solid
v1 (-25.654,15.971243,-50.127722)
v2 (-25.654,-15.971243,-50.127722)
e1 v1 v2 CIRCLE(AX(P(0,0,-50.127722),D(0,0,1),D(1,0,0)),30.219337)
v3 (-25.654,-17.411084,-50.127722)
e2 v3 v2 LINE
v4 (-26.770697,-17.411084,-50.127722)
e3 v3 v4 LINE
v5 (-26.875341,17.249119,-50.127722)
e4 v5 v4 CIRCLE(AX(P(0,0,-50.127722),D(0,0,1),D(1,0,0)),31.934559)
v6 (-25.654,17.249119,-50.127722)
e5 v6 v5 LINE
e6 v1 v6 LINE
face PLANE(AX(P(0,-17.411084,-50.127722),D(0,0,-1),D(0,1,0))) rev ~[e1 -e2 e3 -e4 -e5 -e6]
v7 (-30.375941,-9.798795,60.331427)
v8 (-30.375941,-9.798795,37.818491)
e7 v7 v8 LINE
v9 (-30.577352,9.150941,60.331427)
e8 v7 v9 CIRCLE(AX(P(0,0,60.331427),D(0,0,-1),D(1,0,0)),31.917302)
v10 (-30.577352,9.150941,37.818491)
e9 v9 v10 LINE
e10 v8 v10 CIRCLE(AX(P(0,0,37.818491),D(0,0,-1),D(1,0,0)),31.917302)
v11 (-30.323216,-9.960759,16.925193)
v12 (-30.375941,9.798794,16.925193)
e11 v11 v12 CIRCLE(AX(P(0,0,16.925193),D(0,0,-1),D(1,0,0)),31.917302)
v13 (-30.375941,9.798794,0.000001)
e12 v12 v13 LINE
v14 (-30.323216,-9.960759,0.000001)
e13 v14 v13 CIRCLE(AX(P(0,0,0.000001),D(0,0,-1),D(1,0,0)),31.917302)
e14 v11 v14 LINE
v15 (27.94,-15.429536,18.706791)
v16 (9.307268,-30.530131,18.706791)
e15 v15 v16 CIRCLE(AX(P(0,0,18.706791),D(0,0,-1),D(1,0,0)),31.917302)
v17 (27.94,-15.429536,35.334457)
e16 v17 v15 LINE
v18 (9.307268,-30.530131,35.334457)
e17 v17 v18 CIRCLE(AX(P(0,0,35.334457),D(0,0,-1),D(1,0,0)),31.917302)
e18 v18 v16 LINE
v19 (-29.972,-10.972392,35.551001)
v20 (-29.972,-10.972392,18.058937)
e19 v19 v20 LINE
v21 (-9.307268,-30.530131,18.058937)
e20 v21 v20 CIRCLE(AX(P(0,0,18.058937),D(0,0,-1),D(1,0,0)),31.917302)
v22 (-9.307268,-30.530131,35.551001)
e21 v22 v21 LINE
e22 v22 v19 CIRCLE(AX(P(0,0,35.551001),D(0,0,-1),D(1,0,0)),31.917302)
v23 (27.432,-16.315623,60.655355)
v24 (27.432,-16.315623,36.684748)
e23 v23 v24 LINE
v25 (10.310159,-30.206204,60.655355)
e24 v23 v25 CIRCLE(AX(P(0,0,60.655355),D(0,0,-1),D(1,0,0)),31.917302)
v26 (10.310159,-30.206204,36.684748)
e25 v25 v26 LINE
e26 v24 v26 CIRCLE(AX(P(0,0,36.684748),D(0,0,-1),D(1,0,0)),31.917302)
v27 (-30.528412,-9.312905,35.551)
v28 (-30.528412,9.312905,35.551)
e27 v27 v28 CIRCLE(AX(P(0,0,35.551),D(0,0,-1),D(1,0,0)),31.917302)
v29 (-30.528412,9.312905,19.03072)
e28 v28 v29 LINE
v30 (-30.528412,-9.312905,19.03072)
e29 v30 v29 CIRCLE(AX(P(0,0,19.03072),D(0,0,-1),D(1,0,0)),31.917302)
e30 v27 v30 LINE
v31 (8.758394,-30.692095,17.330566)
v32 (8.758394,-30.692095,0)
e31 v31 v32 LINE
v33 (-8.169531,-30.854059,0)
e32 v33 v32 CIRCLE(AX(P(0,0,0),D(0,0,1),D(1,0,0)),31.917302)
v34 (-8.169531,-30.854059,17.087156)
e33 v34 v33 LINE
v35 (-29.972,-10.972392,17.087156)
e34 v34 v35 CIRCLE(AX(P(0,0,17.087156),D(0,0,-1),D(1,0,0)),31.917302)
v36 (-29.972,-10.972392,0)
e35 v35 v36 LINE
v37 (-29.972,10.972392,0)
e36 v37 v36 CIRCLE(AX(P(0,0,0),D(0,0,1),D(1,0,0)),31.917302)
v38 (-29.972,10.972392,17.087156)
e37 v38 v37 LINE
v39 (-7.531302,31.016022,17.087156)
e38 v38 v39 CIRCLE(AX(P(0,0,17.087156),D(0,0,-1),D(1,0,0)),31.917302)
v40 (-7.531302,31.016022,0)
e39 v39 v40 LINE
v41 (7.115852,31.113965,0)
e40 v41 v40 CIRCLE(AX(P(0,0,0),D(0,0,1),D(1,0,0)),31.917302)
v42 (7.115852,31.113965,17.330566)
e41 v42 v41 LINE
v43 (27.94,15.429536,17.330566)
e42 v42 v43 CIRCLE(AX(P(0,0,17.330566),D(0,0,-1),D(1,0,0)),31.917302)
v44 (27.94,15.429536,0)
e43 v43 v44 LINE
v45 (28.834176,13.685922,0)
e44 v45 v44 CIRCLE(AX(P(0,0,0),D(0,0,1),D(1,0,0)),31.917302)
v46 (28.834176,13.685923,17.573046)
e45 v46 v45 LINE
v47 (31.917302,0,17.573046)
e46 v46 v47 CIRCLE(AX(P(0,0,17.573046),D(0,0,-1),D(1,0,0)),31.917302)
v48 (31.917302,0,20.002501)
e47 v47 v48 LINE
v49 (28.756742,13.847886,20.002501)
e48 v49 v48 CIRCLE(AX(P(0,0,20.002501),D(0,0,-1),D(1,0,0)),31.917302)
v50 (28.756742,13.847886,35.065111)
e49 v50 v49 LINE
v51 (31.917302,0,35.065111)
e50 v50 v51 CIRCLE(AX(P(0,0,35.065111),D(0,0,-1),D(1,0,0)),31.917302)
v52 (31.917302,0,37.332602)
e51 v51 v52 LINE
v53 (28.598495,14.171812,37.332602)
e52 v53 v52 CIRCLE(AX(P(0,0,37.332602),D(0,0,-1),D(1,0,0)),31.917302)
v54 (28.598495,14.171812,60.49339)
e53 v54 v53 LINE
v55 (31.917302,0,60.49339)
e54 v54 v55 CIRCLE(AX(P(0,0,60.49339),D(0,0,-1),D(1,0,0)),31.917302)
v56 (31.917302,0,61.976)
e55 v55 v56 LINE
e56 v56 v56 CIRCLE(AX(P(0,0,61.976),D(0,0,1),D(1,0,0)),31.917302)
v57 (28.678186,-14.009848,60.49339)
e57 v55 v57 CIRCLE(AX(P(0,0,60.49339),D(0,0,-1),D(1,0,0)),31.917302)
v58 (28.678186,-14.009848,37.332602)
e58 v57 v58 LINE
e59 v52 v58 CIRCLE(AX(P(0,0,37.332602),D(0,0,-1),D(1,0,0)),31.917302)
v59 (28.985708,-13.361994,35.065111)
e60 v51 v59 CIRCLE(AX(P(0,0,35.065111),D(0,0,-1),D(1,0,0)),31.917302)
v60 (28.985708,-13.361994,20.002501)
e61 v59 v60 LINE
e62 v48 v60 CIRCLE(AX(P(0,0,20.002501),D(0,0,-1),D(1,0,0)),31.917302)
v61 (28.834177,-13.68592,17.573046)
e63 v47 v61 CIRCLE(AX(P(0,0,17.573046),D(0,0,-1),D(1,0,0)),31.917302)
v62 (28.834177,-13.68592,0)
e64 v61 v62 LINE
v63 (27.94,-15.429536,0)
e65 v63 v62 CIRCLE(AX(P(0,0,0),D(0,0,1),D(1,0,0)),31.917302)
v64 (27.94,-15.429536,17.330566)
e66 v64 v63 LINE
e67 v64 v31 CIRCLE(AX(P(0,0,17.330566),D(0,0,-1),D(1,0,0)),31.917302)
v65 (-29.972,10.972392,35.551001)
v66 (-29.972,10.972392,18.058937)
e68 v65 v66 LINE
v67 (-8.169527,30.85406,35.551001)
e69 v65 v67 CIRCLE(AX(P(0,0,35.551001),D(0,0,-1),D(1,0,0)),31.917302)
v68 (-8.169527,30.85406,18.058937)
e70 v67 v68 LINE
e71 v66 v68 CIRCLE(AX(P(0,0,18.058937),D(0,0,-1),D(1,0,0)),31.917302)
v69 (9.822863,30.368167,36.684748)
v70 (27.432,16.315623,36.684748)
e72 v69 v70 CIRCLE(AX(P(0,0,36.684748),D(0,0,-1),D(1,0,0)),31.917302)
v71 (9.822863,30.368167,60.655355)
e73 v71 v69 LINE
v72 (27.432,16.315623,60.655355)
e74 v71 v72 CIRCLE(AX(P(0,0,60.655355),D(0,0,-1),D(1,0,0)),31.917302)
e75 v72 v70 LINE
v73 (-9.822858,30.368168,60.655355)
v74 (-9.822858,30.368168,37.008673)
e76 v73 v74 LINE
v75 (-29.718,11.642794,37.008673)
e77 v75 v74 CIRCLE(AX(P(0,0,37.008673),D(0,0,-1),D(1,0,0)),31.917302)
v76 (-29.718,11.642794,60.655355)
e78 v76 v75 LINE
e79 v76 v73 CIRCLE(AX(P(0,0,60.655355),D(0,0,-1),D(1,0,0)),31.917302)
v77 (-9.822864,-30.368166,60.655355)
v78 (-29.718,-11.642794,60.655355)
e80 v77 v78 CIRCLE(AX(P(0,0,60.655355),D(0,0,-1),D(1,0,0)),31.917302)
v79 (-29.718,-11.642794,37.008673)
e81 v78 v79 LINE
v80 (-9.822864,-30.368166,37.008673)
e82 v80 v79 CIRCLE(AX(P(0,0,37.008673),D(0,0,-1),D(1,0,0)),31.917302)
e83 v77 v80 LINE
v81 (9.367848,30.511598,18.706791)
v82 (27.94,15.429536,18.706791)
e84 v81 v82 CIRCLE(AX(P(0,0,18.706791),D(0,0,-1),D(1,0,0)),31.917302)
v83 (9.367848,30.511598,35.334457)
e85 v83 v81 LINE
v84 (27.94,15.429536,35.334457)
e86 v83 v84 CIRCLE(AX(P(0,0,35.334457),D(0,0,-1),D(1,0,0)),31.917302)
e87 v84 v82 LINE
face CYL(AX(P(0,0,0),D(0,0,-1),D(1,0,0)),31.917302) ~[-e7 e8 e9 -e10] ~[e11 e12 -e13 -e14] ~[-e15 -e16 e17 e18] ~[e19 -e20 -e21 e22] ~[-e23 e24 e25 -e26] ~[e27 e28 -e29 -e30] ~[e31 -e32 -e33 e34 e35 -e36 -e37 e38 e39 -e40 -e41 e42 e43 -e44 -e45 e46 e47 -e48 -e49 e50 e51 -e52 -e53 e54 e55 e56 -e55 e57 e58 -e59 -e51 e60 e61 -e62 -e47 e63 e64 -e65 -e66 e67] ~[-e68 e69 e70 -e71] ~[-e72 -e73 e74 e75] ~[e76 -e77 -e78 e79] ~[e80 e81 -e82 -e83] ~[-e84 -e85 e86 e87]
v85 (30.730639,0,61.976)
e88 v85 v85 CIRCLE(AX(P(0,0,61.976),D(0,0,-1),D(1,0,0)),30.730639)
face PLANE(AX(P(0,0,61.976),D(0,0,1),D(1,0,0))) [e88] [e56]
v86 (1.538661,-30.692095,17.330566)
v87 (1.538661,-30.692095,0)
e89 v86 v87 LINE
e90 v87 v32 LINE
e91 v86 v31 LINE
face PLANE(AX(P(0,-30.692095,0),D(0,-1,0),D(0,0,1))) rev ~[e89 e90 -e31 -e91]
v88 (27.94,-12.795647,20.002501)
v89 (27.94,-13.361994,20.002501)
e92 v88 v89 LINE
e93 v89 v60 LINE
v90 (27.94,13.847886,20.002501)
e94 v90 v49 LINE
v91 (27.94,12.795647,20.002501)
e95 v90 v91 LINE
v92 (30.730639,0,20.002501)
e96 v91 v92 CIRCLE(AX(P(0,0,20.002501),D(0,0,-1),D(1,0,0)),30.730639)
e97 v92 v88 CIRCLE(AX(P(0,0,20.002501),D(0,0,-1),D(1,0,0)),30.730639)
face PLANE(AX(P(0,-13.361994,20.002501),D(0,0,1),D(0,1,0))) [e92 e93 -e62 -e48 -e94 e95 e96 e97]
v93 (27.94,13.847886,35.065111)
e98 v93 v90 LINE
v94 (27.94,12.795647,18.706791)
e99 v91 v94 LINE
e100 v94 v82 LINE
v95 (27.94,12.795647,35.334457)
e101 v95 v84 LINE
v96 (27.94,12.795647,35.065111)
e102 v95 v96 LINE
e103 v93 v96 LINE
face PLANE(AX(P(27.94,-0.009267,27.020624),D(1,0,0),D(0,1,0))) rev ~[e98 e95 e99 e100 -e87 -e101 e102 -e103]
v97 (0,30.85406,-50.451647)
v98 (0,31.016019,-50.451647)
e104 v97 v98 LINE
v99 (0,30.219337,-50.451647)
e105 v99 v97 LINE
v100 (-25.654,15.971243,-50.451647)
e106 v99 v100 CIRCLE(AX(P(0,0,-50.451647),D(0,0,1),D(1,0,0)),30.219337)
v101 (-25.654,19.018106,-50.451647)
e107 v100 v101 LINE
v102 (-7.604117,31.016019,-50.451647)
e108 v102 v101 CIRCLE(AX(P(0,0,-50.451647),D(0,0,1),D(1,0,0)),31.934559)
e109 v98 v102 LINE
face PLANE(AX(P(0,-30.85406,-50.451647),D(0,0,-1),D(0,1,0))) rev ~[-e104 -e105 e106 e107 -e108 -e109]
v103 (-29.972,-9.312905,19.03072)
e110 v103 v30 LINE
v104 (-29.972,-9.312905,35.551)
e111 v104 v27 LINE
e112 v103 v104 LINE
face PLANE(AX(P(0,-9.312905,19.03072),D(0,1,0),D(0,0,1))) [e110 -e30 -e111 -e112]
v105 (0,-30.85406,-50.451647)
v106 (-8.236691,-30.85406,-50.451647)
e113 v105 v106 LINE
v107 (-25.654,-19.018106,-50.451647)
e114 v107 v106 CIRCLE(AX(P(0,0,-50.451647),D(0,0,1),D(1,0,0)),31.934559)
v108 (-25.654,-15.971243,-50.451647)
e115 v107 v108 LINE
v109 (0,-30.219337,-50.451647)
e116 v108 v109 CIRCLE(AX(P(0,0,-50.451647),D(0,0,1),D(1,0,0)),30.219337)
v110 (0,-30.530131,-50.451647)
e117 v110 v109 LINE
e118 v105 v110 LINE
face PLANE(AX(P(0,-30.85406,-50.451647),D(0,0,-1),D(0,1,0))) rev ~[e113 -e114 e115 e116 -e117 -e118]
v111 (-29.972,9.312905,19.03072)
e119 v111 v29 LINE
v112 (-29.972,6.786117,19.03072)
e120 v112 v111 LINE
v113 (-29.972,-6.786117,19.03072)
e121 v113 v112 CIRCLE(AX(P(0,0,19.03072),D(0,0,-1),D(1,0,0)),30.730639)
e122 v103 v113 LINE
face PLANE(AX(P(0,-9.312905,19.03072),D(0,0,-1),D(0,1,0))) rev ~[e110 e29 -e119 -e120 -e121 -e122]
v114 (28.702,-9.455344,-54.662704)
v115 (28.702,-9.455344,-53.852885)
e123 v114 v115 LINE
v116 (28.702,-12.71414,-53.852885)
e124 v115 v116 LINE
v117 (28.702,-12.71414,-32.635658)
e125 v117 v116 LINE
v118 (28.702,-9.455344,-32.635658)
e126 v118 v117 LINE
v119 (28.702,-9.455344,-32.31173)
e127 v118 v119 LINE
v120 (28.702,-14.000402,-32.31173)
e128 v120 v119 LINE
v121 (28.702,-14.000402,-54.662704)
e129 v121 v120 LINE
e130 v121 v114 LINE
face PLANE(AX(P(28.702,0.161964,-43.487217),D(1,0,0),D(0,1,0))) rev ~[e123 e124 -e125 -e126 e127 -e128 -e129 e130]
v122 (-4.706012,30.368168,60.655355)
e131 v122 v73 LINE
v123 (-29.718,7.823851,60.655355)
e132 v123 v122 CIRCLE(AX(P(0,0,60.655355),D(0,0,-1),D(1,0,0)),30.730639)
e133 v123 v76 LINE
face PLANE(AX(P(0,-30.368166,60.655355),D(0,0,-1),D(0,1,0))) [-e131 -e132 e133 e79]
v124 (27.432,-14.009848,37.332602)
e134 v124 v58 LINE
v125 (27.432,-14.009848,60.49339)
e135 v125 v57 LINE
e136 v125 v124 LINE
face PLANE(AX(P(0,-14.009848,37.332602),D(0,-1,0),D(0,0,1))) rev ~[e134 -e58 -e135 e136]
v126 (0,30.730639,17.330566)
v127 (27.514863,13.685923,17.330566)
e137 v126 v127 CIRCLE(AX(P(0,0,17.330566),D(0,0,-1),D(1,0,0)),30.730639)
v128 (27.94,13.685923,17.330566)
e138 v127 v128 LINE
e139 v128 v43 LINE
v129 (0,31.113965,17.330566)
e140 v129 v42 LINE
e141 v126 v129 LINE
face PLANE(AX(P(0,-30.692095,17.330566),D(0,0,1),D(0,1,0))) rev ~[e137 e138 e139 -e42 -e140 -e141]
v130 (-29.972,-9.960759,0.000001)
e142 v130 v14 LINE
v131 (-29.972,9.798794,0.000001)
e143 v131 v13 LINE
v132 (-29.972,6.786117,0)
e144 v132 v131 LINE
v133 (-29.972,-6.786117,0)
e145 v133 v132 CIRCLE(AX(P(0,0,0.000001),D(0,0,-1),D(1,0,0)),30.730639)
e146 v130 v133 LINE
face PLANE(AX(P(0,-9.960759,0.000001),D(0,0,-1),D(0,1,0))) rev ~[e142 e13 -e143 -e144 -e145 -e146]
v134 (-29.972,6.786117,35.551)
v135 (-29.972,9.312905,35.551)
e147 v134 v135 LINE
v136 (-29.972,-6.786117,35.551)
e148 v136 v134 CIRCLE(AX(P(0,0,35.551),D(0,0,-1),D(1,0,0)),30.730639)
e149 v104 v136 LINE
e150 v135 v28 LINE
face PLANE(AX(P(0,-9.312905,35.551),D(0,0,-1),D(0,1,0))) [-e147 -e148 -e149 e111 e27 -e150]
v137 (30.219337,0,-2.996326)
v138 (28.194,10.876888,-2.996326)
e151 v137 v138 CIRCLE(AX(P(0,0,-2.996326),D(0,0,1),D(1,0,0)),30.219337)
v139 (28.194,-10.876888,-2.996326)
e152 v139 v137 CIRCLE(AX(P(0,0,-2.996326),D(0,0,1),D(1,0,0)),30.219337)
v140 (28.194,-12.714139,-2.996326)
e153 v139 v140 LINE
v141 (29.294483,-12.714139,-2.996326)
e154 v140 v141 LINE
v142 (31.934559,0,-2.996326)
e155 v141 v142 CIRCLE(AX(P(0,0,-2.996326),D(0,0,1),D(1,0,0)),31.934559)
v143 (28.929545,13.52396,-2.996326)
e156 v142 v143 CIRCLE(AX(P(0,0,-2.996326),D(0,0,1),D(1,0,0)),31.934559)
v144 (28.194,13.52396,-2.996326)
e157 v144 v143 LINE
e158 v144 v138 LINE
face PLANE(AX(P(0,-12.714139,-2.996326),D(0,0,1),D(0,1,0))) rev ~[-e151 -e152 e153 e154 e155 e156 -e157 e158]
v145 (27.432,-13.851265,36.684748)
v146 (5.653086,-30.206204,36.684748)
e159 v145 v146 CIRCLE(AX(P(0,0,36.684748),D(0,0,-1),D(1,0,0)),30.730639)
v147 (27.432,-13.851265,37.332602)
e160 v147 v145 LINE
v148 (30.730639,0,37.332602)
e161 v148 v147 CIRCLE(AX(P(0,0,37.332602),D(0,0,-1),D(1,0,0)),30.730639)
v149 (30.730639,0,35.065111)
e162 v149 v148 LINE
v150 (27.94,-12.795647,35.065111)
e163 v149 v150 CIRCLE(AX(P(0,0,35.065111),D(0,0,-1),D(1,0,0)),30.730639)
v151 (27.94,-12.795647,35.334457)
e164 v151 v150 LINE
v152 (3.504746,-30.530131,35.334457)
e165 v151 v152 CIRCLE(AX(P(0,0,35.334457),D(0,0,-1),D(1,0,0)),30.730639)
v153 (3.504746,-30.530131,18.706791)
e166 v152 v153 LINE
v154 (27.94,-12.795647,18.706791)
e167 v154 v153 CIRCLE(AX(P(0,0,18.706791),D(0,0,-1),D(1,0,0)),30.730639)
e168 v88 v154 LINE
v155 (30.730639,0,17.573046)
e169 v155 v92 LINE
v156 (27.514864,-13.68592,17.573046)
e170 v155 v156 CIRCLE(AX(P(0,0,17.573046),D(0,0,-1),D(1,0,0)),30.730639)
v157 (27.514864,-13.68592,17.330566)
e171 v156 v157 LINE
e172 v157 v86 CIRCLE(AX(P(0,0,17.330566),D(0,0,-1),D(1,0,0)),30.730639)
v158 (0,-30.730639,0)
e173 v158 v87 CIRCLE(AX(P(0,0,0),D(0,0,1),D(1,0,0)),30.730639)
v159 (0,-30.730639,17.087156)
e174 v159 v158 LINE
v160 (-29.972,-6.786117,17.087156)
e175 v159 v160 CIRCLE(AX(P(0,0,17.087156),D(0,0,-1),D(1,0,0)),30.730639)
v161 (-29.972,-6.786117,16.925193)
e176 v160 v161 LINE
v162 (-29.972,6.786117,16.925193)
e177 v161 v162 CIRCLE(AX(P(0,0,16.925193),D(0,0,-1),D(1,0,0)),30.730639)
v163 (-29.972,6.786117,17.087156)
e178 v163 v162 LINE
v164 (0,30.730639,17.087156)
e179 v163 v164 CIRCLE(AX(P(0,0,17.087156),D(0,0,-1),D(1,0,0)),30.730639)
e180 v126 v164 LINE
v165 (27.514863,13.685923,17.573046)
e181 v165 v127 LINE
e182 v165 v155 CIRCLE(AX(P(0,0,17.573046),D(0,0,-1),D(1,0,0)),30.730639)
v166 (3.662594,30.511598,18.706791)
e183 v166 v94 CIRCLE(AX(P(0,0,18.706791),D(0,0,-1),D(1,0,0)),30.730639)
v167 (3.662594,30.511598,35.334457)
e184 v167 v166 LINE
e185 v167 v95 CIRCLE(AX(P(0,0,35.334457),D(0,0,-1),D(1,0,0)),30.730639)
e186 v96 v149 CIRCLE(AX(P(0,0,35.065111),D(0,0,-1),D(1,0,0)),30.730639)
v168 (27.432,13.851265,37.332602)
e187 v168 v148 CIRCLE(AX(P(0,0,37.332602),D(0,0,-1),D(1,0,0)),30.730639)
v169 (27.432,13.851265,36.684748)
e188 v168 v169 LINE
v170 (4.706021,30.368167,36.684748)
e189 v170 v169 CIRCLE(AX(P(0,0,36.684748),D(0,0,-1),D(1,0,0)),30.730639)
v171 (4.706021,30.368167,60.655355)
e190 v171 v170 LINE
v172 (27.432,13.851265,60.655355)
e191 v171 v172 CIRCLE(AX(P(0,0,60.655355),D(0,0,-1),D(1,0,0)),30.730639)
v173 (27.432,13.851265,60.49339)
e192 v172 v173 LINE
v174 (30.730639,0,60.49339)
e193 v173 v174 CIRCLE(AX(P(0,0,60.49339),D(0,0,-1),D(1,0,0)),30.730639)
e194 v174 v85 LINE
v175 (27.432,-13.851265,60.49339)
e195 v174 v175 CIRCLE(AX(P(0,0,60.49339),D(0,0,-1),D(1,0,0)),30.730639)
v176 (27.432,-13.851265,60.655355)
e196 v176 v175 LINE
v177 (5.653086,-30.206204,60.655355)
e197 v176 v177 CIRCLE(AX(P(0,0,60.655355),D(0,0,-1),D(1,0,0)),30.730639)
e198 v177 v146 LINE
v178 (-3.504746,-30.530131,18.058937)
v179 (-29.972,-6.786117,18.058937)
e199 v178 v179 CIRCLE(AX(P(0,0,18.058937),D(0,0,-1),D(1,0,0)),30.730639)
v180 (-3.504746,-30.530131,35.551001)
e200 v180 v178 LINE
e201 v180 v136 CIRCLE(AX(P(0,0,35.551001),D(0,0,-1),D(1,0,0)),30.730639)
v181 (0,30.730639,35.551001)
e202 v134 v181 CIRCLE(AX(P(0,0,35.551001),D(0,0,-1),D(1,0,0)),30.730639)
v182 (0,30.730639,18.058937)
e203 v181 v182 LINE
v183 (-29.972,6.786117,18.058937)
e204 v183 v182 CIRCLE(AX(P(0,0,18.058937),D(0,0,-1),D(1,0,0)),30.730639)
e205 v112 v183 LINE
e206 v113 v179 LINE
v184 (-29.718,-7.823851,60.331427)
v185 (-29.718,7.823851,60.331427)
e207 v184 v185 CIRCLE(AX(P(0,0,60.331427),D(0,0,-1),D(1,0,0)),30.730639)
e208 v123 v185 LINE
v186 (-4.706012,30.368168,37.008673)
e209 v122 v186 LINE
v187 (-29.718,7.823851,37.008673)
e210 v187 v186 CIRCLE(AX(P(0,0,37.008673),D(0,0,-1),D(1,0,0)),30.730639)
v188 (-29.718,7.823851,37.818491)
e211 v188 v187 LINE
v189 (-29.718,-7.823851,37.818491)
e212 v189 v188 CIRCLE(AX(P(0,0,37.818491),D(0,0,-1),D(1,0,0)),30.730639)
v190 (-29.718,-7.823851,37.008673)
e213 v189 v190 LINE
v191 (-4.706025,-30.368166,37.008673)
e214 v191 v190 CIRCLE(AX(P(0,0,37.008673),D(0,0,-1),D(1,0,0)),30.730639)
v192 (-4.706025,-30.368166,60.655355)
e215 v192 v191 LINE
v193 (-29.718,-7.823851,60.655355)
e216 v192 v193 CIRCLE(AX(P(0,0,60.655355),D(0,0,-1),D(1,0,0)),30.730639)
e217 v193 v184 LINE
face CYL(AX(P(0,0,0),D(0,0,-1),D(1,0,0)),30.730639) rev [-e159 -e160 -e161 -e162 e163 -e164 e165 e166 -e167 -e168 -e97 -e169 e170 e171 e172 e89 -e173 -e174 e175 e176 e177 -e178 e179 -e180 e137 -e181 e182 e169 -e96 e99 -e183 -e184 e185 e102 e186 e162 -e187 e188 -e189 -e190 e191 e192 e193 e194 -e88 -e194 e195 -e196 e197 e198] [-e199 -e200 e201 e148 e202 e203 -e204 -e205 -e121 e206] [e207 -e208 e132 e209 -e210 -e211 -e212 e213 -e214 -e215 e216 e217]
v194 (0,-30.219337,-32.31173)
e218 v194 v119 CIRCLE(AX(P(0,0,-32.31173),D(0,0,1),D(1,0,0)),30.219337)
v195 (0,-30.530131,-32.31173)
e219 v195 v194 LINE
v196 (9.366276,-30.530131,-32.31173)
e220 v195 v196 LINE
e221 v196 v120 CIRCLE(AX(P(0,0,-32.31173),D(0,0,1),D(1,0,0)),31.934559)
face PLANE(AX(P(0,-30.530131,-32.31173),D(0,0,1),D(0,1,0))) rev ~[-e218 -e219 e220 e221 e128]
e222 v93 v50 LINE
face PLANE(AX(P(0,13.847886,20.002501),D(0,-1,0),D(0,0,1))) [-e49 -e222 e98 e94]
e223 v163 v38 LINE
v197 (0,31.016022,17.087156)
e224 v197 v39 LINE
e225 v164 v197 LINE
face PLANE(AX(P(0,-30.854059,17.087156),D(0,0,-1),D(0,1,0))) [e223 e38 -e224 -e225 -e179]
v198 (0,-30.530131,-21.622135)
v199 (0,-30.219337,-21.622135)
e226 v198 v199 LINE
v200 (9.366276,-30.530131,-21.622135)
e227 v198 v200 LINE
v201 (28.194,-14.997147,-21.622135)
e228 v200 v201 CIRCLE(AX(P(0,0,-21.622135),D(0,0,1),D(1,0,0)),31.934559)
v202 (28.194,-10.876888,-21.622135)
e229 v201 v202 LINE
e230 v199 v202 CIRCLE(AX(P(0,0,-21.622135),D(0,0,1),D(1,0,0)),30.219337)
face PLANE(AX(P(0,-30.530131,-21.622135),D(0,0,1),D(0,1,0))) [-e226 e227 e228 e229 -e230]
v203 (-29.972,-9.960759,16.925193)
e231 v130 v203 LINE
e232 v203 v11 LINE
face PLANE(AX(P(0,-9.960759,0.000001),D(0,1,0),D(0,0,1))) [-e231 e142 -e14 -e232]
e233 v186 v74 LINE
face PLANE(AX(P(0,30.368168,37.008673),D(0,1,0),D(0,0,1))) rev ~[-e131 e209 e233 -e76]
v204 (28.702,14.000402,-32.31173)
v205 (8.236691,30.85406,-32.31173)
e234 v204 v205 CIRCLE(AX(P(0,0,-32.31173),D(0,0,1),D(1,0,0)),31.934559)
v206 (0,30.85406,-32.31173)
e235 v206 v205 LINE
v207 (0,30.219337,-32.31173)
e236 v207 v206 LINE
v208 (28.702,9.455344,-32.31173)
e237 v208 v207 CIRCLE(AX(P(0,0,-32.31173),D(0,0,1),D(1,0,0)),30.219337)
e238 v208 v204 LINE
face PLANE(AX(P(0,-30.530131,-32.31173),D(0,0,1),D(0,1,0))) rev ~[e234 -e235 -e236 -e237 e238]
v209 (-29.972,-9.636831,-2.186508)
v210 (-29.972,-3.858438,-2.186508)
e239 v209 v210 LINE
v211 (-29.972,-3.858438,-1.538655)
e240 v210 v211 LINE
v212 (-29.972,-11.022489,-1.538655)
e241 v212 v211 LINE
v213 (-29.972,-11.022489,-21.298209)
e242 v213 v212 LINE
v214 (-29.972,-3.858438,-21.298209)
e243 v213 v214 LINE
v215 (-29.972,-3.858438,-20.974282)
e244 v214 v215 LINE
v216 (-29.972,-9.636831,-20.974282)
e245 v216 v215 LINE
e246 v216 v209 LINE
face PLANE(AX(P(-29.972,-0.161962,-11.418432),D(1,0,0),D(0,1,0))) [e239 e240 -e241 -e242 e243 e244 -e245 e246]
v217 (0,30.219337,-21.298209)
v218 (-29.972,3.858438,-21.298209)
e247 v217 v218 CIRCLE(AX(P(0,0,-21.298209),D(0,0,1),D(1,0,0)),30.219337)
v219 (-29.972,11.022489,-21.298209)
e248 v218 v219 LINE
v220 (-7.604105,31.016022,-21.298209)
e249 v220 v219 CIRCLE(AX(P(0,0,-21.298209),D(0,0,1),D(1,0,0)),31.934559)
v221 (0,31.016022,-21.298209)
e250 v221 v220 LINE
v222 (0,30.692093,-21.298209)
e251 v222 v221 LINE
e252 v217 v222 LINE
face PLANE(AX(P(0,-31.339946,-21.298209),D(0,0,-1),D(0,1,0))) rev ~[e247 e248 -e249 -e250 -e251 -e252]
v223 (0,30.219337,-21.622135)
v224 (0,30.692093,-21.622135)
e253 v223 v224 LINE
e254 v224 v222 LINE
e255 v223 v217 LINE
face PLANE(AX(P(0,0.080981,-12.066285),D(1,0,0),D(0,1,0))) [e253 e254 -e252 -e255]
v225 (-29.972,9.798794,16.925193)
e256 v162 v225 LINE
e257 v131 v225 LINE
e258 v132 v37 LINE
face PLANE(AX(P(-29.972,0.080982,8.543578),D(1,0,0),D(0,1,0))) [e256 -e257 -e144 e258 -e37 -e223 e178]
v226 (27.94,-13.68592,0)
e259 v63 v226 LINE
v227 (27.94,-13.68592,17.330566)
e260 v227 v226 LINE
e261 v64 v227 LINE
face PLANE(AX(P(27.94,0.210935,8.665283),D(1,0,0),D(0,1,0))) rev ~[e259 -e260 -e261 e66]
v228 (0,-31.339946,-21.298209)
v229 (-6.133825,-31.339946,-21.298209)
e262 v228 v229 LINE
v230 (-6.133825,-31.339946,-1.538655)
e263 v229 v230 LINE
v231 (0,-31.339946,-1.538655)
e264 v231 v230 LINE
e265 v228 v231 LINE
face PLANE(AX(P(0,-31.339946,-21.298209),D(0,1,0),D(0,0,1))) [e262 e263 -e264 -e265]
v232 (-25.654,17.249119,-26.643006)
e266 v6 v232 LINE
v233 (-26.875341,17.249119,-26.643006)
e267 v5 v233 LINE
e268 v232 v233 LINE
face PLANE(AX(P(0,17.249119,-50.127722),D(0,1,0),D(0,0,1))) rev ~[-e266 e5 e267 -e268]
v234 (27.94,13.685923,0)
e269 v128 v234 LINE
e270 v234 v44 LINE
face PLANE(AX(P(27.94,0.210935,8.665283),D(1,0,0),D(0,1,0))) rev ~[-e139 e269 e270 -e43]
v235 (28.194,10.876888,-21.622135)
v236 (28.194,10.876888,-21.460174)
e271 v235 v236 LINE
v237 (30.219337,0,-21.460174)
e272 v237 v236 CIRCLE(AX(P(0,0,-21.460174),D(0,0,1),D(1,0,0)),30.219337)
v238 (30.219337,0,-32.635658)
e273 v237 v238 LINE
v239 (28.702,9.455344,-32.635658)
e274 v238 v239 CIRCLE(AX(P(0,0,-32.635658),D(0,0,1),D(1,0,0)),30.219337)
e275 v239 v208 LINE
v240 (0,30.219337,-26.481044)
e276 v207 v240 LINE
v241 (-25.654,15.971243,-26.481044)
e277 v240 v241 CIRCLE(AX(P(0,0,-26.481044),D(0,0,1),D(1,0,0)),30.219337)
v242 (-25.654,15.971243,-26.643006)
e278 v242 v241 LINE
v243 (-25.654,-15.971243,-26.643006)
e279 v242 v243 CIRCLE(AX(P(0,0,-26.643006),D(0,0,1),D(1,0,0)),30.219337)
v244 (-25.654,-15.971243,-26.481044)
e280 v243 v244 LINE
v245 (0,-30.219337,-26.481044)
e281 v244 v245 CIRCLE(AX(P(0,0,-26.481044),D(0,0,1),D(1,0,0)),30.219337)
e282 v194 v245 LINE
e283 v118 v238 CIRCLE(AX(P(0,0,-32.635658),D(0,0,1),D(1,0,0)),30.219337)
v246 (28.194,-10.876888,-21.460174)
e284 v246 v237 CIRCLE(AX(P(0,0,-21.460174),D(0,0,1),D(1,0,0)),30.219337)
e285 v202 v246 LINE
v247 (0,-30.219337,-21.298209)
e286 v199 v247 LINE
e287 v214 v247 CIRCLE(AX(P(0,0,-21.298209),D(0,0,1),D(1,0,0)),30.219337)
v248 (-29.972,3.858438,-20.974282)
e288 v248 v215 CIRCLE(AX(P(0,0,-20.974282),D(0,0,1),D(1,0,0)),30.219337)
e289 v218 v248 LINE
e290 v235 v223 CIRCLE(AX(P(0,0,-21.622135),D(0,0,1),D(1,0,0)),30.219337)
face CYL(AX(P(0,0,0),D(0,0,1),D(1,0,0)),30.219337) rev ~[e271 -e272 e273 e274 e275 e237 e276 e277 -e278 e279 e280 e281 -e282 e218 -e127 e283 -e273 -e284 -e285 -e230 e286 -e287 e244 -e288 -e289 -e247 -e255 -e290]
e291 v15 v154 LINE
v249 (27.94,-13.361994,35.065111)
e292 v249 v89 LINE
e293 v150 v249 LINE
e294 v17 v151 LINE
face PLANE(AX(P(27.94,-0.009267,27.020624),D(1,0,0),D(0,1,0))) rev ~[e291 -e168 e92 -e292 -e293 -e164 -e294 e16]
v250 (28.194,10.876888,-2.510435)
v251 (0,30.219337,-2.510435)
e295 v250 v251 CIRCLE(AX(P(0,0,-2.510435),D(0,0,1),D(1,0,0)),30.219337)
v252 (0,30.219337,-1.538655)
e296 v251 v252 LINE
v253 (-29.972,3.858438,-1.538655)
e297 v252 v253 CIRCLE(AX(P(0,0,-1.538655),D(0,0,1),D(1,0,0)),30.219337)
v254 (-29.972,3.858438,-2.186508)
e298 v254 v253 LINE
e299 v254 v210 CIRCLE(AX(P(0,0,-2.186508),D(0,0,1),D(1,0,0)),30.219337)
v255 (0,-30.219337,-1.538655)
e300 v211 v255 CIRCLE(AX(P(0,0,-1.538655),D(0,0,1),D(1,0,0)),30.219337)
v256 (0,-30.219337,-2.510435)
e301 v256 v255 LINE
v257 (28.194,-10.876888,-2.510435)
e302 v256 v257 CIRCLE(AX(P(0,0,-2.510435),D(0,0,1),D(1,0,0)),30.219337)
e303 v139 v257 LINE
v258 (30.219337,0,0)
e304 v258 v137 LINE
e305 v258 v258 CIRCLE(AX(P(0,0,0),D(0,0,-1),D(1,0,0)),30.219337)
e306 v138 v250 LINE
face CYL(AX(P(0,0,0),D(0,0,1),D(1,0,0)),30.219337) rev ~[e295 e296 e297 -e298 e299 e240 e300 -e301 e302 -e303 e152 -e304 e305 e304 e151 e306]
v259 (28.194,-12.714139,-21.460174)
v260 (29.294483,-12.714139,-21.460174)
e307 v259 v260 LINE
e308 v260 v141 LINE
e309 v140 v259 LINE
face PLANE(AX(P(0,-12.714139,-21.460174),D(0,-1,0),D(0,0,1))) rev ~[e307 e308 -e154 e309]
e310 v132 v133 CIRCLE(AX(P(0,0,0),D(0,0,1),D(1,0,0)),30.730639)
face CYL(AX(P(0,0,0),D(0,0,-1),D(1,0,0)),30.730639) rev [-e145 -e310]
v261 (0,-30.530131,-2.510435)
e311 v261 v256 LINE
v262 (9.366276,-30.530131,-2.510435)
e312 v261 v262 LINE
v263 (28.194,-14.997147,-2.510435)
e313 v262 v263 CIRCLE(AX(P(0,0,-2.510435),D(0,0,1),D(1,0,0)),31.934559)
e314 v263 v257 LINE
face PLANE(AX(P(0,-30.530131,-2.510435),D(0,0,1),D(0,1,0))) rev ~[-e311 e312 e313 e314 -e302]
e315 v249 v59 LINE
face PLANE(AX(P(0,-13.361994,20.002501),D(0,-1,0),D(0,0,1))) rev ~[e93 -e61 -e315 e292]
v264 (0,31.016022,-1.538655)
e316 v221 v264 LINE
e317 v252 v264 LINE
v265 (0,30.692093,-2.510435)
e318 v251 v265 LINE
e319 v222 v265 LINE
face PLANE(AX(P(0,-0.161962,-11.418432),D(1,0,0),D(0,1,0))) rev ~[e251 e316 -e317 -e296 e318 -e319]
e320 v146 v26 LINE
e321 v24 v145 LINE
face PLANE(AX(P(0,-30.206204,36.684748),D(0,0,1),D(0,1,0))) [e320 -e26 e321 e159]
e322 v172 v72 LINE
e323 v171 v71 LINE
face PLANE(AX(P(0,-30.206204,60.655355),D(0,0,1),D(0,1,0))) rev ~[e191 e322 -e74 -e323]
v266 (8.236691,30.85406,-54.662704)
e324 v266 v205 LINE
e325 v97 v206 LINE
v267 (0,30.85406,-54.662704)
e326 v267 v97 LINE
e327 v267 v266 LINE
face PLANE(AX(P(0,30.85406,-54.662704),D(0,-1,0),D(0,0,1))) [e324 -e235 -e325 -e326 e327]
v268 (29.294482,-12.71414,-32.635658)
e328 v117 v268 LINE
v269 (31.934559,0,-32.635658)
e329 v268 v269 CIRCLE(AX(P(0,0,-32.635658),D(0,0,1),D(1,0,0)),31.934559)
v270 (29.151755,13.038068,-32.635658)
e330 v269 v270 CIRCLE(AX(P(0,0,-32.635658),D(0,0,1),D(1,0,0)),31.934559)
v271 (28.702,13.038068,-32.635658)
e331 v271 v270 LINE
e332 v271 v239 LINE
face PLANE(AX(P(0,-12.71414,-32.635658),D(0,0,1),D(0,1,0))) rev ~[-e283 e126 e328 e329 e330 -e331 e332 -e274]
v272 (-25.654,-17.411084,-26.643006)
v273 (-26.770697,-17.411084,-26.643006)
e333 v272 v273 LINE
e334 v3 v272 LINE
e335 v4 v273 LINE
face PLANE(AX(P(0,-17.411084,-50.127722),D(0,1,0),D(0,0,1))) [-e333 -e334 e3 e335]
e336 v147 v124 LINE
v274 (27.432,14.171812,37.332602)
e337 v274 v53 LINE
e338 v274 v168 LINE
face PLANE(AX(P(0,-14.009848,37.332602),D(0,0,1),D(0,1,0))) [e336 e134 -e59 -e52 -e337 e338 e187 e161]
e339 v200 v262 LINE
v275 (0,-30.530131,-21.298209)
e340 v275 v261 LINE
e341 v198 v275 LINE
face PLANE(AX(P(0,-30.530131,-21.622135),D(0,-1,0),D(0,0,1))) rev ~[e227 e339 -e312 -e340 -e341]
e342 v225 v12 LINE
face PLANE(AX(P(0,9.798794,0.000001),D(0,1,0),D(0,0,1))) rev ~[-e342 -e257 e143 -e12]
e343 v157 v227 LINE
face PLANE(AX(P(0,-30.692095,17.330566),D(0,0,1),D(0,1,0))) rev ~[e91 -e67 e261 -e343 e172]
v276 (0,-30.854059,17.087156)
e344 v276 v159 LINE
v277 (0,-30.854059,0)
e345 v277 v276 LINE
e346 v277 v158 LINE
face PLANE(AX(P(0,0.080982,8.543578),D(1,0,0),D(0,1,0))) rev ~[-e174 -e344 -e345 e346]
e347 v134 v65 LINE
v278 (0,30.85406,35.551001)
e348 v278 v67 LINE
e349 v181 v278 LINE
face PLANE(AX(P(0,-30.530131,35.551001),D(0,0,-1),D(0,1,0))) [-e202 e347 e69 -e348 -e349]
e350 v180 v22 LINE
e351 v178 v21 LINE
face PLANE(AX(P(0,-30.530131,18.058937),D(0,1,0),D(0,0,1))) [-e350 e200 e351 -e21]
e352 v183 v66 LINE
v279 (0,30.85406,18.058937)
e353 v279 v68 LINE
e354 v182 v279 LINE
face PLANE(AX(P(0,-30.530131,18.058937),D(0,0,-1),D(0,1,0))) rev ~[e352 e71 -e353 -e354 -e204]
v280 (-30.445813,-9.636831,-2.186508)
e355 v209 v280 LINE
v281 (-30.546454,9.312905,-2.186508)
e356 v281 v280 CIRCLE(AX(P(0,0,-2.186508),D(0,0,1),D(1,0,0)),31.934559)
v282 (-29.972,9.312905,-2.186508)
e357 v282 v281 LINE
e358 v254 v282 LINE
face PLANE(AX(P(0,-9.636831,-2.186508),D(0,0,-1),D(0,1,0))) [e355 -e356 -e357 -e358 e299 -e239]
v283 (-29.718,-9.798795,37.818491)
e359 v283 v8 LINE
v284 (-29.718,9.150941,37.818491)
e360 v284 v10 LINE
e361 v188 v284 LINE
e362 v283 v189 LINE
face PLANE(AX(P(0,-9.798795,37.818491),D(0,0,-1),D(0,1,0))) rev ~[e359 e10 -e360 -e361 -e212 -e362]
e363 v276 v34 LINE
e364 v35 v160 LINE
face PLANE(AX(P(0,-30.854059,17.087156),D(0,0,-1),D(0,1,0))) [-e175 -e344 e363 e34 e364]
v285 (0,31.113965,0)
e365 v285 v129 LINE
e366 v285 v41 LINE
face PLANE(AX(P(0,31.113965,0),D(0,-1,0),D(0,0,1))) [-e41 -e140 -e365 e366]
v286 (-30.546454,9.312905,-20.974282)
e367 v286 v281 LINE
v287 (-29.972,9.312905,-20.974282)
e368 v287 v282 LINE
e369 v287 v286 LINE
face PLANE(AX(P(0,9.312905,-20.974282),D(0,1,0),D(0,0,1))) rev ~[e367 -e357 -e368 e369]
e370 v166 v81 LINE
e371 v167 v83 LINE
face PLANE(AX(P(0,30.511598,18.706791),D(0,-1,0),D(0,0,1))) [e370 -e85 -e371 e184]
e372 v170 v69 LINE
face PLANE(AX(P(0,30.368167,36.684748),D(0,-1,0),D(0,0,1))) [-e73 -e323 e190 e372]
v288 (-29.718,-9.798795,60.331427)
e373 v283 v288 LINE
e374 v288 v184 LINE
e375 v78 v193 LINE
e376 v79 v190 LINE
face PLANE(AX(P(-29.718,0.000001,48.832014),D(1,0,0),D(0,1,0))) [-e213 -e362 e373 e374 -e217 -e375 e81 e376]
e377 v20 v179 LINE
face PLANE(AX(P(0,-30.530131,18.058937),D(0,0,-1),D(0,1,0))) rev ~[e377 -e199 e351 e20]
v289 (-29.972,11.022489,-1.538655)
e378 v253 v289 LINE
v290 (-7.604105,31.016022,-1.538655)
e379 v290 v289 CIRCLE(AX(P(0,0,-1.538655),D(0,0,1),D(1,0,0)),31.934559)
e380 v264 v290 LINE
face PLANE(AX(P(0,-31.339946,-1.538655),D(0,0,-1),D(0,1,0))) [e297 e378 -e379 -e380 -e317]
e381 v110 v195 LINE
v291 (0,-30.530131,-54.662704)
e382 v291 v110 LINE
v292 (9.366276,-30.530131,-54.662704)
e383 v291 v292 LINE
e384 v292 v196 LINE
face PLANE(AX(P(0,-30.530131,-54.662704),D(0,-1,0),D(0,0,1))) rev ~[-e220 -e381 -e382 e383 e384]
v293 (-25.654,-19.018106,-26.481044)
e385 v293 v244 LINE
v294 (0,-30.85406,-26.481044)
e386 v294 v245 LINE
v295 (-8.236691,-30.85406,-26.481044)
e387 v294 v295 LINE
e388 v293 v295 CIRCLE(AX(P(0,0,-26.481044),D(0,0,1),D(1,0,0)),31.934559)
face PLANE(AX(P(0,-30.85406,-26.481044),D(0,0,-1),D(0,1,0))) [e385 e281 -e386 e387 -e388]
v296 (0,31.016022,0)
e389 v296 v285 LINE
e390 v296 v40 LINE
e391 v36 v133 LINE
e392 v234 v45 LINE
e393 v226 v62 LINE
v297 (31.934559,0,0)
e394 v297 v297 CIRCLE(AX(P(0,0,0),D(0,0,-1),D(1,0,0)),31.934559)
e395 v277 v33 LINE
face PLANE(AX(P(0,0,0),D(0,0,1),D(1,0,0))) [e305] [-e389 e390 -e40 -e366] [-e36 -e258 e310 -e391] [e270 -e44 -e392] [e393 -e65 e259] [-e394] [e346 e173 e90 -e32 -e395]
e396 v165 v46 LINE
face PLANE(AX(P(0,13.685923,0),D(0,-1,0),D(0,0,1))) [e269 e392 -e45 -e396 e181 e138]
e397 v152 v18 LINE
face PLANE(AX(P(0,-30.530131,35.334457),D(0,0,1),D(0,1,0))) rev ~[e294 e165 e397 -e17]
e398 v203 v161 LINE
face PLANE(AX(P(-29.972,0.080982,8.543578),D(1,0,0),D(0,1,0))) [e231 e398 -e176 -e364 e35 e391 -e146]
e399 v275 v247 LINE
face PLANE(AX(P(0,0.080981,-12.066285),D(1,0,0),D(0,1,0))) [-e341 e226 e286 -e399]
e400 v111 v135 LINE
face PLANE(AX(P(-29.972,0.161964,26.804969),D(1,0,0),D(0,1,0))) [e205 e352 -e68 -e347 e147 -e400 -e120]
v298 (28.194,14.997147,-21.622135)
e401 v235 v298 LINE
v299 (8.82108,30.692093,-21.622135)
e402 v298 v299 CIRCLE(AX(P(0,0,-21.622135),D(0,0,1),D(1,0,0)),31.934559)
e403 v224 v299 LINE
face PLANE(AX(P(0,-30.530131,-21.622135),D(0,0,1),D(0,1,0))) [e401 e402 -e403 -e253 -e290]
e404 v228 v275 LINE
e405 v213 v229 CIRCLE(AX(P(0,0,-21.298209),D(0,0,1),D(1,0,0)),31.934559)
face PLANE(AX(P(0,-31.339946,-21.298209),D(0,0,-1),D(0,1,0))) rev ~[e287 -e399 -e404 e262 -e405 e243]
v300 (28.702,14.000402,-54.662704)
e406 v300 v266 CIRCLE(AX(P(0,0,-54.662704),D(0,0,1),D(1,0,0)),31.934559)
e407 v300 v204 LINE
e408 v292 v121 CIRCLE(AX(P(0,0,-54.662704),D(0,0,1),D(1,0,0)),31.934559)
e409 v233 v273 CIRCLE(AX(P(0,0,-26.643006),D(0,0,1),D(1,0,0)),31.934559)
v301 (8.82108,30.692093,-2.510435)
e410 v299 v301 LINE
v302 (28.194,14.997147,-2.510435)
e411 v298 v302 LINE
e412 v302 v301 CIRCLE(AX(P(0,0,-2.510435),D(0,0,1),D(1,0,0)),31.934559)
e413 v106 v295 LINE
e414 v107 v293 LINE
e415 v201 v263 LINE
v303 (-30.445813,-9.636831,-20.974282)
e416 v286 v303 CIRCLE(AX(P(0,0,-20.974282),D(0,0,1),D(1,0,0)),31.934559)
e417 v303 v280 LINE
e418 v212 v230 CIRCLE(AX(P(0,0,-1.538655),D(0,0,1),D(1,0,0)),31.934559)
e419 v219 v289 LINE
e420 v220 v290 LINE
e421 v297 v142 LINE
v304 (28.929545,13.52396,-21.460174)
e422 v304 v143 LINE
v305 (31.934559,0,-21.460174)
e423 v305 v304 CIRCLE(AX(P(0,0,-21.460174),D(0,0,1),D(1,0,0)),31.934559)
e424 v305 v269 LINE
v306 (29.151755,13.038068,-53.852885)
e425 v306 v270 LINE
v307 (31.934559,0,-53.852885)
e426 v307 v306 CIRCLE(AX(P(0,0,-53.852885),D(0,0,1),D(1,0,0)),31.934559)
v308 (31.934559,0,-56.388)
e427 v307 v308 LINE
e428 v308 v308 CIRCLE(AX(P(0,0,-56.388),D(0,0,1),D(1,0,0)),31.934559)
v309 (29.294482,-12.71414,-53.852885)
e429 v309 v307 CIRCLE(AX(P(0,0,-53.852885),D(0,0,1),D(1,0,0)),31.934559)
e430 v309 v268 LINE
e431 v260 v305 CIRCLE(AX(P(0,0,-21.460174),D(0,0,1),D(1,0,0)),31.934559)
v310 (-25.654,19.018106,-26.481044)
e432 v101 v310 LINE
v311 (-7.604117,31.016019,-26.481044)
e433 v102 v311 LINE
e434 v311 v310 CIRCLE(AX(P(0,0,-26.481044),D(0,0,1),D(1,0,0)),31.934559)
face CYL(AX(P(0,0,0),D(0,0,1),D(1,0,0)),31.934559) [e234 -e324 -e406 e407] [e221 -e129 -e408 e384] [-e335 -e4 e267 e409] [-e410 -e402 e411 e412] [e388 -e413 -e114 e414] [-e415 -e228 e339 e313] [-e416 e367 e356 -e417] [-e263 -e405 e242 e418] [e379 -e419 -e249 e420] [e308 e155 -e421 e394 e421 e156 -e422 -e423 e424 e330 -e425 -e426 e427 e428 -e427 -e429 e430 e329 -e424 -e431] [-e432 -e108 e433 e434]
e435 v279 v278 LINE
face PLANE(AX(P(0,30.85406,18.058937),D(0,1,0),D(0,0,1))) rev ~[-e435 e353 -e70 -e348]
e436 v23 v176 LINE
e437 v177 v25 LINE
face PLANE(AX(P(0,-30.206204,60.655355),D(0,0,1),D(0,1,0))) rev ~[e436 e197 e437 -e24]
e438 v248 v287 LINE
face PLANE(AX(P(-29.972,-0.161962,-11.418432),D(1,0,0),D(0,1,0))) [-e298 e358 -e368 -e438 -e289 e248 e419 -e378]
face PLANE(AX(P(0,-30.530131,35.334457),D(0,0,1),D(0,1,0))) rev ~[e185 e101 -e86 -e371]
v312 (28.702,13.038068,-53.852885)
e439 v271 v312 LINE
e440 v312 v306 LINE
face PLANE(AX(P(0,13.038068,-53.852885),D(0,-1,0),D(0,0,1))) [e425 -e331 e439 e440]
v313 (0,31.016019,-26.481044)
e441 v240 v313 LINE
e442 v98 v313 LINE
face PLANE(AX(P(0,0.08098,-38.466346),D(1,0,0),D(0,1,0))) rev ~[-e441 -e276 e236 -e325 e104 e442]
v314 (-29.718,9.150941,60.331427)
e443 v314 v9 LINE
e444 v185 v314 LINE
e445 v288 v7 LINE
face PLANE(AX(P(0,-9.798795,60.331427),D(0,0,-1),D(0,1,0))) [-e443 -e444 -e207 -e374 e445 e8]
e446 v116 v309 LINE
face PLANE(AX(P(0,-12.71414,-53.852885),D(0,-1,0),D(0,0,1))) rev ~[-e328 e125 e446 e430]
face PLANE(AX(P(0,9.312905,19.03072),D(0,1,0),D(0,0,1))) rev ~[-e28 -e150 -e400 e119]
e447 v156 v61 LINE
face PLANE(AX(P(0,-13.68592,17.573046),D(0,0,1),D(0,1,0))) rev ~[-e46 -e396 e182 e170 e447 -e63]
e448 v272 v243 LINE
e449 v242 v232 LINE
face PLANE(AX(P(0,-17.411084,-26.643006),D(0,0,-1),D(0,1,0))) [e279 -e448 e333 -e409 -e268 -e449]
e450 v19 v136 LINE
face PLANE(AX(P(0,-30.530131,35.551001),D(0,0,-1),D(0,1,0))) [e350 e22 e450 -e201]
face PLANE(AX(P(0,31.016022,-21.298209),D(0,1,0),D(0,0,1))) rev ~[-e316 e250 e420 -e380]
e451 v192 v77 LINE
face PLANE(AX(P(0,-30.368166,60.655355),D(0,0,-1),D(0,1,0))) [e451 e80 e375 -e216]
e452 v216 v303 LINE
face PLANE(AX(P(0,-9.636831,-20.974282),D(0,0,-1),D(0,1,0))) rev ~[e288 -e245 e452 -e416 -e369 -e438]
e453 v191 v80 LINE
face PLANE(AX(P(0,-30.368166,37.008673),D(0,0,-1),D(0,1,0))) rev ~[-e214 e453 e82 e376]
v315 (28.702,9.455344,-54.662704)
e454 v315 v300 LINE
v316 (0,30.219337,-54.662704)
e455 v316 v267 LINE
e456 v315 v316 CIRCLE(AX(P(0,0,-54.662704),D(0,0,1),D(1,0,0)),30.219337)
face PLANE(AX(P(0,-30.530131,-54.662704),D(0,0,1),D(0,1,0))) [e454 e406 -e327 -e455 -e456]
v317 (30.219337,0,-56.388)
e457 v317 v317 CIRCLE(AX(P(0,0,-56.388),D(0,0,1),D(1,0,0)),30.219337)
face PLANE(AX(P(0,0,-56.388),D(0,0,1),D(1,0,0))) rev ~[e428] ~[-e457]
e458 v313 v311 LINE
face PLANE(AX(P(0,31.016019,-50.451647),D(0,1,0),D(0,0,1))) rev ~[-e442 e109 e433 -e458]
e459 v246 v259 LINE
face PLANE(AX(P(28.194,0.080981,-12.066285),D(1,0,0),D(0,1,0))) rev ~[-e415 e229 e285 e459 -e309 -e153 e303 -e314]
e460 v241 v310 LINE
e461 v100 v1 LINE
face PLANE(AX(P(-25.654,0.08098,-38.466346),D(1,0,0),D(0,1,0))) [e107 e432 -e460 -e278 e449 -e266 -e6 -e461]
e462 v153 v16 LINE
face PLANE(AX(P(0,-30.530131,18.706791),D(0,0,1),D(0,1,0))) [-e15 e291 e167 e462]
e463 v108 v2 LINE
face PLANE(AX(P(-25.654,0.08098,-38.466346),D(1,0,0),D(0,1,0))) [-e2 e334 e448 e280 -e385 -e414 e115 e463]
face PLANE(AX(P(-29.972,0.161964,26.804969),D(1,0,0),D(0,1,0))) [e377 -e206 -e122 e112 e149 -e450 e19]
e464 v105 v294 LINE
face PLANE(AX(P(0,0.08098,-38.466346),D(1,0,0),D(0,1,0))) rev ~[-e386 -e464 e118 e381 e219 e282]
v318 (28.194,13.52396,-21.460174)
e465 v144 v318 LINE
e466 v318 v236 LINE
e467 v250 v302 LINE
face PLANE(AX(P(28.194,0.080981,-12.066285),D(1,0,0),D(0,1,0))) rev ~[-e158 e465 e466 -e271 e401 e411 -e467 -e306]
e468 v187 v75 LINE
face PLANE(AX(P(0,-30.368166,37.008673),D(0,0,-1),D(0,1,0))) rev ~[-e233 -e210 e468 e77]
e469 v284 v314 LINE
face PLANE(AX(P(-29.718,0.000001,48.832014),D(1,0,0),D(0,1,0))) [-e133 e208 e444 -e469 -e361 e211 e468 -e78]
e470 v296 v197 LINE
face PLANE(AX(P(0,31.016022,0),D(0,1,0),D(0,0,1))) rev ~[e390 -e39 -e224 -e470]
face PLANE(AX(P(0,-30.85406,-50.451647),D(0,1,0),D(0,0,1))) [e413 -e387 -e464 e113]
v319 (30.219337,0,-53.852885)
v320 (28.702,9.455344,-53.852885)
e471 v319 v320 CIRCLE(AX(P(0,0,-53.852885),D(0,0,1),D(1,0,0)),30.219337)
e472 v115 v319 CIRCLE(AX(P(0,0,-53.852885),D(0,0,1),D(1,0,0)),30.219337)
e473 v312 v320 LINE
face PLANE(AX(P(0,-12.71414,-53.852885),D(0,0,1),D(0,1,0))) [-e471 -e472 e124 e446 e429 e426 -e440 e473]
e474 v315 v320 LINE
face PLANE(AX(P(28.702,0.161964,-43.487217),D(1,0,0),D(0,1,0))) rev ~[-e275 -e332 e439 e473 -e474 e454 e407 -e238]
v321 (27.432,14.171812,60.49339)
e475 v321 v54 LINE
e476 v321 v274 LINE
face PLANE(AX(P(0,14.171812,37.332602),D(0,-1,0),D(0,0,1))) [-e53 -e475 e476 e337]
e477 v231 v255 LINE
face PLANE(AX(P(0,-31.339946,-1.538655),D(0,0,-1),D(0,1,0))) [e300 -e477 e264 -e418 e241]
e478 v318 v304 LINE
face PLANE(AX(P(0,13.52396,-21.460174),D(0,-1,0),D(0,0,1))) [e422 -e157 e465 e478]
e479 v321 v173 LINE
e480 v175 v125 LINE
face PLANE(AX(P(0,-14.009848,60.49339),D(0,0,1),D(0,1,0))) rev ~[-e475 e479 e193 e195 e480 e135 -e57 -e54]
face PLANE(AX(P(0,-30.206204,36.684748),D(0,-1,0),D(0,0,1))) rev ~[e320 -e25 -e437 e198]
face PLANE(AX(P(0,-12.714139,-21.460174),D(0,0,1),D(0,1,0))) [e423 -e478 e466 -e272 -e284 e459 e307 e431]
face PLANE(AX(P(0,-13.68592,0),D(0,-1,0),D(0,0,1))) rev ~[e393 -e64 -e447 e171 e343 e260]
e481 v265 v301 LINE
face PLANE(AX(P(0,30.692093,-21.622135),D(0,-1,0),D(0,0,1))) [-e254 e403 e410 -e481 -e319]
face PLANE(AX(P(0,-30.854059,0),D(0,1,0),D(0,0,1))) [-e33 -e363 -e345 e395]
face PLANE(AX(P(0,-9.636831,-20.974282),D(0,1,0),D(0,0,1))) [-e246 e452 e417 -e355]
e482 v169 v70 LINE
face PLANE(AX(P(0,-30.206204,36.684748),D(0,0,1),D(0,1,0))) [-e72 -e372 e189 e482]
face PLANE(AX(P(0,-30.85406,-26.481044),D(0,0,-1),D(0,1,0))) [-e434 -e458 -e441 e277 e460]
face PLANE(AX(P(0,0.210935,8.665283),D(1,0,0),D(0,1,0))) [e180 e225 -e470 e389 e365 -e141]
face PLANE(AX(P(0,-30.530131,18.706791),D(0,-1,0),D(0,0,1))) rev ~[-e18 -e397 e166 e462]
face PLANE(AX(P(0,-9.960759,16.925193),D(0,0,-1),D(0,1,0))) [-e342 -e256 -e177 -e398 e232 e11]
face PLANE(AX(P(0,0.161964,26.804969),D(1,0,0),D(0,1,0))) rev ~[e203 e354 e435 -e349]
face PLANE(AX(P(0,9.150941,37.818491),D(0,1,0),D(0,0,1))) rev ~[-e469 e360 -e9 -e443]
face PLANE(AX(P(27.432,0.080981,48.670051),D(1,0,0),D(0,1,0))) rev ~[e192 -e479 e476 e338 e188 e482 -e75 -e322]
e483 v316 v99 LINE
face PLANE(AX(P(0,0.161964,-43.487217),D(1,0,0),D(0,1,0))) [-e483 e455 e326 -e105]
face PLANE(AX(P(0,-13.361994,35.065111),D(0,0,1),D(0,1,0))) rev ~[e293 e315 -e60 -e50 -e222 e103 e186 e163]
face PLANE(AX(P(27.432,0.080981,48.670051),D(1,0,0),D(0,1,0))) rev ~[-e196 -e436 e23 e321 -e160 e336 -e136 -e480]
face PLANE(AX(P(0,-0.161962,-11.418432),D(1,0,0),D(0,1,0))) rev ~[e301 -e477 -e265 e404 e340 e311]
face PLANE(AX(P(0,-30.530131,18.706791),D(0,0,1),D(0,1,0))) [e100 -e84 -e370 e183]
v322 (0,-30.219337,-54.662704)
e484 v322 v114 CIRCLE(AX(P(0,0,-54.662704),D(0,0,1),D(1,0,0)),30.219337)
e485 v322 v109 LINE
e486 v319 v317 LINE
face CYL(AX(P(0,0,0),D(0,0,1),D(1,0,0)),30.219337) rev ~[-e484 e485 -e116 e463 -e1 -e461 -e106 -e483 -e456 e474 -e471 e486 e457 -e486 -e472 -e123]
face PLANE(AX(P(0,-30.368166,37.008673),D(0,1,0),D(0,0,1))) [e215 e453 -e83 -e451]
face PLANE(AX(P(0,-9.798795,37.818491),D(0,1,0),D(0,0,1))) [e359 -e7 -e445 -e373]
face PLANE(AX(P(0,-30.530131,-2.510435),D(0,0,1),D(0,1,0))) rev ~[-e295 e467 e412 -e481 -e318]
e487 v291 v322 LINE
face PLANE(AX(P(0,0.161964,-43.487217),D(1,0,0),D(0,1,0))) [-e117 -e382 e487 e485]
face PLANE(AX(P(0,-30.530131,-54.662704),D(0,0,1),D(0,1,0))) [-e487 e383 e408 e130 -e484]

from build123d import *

# Parameters (mm, degrees)
F0_R      = 31.917302
F1_DEPTH  = 61.976
F2_R      = 31.934559
F3_DEPTH  = 56.388
F4_W      = 61.870079
F4_H      = 23.970603
F5_DEPTH  = 25.654
F6_W      = 34.660203
F6_H      = 23.484716
F7_DEPTH  = 55.118
F8_R      = 30.219337
F9_DEPTH  = 86.614
F10_W     = 61.384191
F10_H     = 22.350974
F11_DEPTH = 28.702
F12_W     = 25.752208
F12_H     = 21.217227
F13_DEPTH = 55.626
F14_W     = 61.222225
F14_H     = 19.111701
F15_DEPTH = 28.194
F16_W     = 62.355969
F16_H     = 19.759555
F17_DEPTH = 29.972
F18_W     = 18.949736
F18_H     = 18.787774
F19_DEPTH = 42.164
F20_W     = 26.238099
F20_H     = 18.463848
F21_DEPTH = 48.006
F22_W     = 61.870081
F22_H     = 17.087156
F23_DEPTH = 29.972
F24_W     = 61.80606
F24_H     = 17.330566
F25_DEPTH = 27.94
F26_W     = 19.759553
F26_H     = 16.925193
F27_DEPTH = 59.944
F28_W     = 27.371843
F28_H     = 17.573046
F29_DEPTH = 67.564
F30_R     = 30.730639
F31_DEPTH = 121.412
F32_W     = 61.384191
F32_H     = 17.492063
F33_DEPTH = 29.972
F34_W     = 61.041729
F34_H     = 16.627666
F35_DEPTH = 27.94
F36_W     = 27.209879
F36_H     = 15.06261
F37_DEPTH = 51.054
F38_W     = 18.62581
F38_H     = 16.52028
F39_DEPTH = 66.294
F40_W     = 60.574371
F40_H     = 23.970607
F41_DEPTH = 27.432
F42_W     = 28.18166
F42_H     = 23.160789
F43_DEPTH = 40.894
F44_W     = 60.736334
F44_H     = 23.646682
F45_DEPTH = 29.718
F46_W     = 18.949736
F46_H     = 22.512936
F47_DEPTH = 43.18


with BuildPart() as f1:
    # F0 (on Top) → F1 (new body)
    with BuildSketch(Plane.XY):
        Circle(F0_R)
    extrude(amount=F1_DEPTH)

    # F2 (on Top) → F3 (join)
    with BuildSketch(Plane.XY):
        Circle(F2_R)
    extrude(amount=-F3_DEPTH)

    # F4 (on Right) → F5 (cut)
    with BuildSketch(Plane.YZ):
        with Locations((0.08098, -38.466346)):
            Rectangle(F4_W, F4_H)
    extrude(amount=-F5_DEPTH, mode=Mode.SUBTRACT)

    # F6 (on Right) → F7 (cut)
    with BuildSketch(Plane.YZ):
        with Locations((-0.080982, -38.385364)):
            Rectangle(F6_W, F6_H)
    extrude(amount=-F7_DEPTH, mode=Mode.SUBTRACT)

    # F8 (on Top) → F9 (cut)
    with BuildSketch(Plane.XY):
        Circle(F8_R)
    extrude(amount=-F9_DEPTH, mode=Mode.SUBTRACT)

    # F10 (on Right) → F11 (cut)
    with BuildSketch(Plane.YZ):
        with Locations((0.161964, -43.487217)):
            Rectangle(F10_W, F10_H)
    extrude(amount=F11_DEPTH, mode=Mode.SUBTRACT)

    # F12 (on Right) → F13 (cut)
    with BuildSketch(Plane.YZ):
        with Locations((0.161964, -43.244272)):
            Rectangle(F12_W, F12_H)
    extrude(amount=F13_DEPTH, mode=Mode.SUBTRACT)

    # F14 (on Right) → F15 (cut)
    with BuildSketch(Plane.YZ):
        with Locations((0.080981, -12.066285)):
            Rectangle(F14_W, F14_H)
    extrude(amount=F15_DEPTH, mode=Mode.SUBTRACT)

    # F16 (on Right) → F17 (cut)
    with BuildSketch(Plane.YZ):
        with Locations((-0.161962, -11.418432)):
            Rectangle(F16_W, F16_H)
    extrude(amount=-F17_DEPTH, mode=Mode.SUBTRACT)

    # F18 (on Right) → F19 (cut)
    with BuildSketch(Plane.YZ):
        with Locations((-0.161963, -11.580395)):
            Rectangle(F18_W, F18_H)
    extrude(amount=-F19_DEPTH, mode=Mode.SUBTRACT)

    # F20 (on Right) → F21 (cut)
    with BuildSketch(Plane.YZ):
        with Locations((0.40491, -12.22825)):
            Rectangle(F20_W, F20_H)
    extrude(amount=F21_DEPTH, mode=Mode.SUBTRACT)

    # F22 (on Right) → F23 (cut)
    with BuildSketch(Plane.YZ):
        with Locations((0.080982, 8.543578)):
            Rectangle(F22_W, F22_H)
    extrude(amount=-F23_DEPTH, mode=Mode.SUBTRACT)

    # F24 (on Right) → F25 (cut)
    with BuildSketch(Plane.YZ):
        with Locations((0.210935, 8.665283)):
            Rectangle(F24_W, F24_H)
    extrude(amount=F25_DEPTH, mode=Mode.SUBTRACT)

    # F26 (on Right) → F27 (cut)
    with BuildSketch(Plane.YZ):
        with Locations((-0.080982, 8.462597)):
            Rectangle(F26_W, F26_H)
    extrude(amount=-F27_DEPTH, mode=Mode.SUBTRACT)

    # F28 (on Right) → F29 (cut)
    with BuildSketch(Plane.YZ):
        with Locations((1e-06, 8.786523)):
            Rectangle(F28_W, F28_H)
    extrude(amount=F29_DEPTH, mode=Mode.SUBTRACT)

    # F30 (on Top) → F31 (cut)
    with BuildSketch(Plane.XY):
        Circle(F30_R)
    extrude(amount=F31_DEPTH, mode=Mode.SUBTRACT)

    # F32 (on Right) → F33 (cut)
    with BuildSketch(Plane.YZ):
        with Locations((0.161964, 26.804969)):
            Rectangle(F32_W, F32_H)
    extrude(amount=-F33_DEPTH, mode=Mode.SUBTRACT)

    # F34 (on Right) → F35 (cut)
    with BuildSketch(Plane.YZ):
        with Locations((-0.009267, 27.020624)):
            Rectangle(F34_W, F34_H)
    extrude(amount=F35_DEPTH, mode=Mode.SUBTRACT)

    # F36 (on Right) → F37 (cut)
    with BuildSketch(Plane.YZ):
        with Locations((0.242946, 27.533806)):
            Rectangle(F36_W, F36_H)
    extrude(amount=F37_DEPTH, mode=Mode.SUBTRACT)

    # F38 (on Right) → F39 (cut)
    with BuildSketch(Plane.YZ):
        with Locations((0, 27.29086)):
            Rectangle(F38_W, F38_H)
    extrude(amount=-F39_DEPTH, mode=Mode.SUBTRACT)

    # F40 (on Right) → F41 (cut)
    with BuildSketch(Plane.YZ):
        with Locations((0.080981, 48.670051)):
            Rectangle(F40_W, F40_H)
    extrude(amount=F41_DEPTH, mode=Mode.SUBTRACT)

    # F42 (on Right) → F43 (cut)
    with BuildSketch(Plane.YZ):
        with Locations((0.080982, 48.912996)):
            Rectangle(F42_W, F42_H)
    extrude(amount=F43_DEPTH, mode=Mode.SUBTRACT)

    # F44 (on Right) → F45 (cut)
    with BuildSketch(Plane.YZ):
        with Locations((1e-06, 48.832014)):
            Rectangle(F44_W, F44_H)
    extrude(amount=-F45_DEPTH, mode=Mode.SUBTRACT)

    # F46 (on Right) → F47 (cut)
    with BuildSketch(Plane.YZ):
        with Locations((-0.323927, 49.074959)):
            Rectangle(F46_W, F46_H)
    extrude(amount=-F47_DEPTH, mode=Mode.SUBTRACT)


solid = f1.part
